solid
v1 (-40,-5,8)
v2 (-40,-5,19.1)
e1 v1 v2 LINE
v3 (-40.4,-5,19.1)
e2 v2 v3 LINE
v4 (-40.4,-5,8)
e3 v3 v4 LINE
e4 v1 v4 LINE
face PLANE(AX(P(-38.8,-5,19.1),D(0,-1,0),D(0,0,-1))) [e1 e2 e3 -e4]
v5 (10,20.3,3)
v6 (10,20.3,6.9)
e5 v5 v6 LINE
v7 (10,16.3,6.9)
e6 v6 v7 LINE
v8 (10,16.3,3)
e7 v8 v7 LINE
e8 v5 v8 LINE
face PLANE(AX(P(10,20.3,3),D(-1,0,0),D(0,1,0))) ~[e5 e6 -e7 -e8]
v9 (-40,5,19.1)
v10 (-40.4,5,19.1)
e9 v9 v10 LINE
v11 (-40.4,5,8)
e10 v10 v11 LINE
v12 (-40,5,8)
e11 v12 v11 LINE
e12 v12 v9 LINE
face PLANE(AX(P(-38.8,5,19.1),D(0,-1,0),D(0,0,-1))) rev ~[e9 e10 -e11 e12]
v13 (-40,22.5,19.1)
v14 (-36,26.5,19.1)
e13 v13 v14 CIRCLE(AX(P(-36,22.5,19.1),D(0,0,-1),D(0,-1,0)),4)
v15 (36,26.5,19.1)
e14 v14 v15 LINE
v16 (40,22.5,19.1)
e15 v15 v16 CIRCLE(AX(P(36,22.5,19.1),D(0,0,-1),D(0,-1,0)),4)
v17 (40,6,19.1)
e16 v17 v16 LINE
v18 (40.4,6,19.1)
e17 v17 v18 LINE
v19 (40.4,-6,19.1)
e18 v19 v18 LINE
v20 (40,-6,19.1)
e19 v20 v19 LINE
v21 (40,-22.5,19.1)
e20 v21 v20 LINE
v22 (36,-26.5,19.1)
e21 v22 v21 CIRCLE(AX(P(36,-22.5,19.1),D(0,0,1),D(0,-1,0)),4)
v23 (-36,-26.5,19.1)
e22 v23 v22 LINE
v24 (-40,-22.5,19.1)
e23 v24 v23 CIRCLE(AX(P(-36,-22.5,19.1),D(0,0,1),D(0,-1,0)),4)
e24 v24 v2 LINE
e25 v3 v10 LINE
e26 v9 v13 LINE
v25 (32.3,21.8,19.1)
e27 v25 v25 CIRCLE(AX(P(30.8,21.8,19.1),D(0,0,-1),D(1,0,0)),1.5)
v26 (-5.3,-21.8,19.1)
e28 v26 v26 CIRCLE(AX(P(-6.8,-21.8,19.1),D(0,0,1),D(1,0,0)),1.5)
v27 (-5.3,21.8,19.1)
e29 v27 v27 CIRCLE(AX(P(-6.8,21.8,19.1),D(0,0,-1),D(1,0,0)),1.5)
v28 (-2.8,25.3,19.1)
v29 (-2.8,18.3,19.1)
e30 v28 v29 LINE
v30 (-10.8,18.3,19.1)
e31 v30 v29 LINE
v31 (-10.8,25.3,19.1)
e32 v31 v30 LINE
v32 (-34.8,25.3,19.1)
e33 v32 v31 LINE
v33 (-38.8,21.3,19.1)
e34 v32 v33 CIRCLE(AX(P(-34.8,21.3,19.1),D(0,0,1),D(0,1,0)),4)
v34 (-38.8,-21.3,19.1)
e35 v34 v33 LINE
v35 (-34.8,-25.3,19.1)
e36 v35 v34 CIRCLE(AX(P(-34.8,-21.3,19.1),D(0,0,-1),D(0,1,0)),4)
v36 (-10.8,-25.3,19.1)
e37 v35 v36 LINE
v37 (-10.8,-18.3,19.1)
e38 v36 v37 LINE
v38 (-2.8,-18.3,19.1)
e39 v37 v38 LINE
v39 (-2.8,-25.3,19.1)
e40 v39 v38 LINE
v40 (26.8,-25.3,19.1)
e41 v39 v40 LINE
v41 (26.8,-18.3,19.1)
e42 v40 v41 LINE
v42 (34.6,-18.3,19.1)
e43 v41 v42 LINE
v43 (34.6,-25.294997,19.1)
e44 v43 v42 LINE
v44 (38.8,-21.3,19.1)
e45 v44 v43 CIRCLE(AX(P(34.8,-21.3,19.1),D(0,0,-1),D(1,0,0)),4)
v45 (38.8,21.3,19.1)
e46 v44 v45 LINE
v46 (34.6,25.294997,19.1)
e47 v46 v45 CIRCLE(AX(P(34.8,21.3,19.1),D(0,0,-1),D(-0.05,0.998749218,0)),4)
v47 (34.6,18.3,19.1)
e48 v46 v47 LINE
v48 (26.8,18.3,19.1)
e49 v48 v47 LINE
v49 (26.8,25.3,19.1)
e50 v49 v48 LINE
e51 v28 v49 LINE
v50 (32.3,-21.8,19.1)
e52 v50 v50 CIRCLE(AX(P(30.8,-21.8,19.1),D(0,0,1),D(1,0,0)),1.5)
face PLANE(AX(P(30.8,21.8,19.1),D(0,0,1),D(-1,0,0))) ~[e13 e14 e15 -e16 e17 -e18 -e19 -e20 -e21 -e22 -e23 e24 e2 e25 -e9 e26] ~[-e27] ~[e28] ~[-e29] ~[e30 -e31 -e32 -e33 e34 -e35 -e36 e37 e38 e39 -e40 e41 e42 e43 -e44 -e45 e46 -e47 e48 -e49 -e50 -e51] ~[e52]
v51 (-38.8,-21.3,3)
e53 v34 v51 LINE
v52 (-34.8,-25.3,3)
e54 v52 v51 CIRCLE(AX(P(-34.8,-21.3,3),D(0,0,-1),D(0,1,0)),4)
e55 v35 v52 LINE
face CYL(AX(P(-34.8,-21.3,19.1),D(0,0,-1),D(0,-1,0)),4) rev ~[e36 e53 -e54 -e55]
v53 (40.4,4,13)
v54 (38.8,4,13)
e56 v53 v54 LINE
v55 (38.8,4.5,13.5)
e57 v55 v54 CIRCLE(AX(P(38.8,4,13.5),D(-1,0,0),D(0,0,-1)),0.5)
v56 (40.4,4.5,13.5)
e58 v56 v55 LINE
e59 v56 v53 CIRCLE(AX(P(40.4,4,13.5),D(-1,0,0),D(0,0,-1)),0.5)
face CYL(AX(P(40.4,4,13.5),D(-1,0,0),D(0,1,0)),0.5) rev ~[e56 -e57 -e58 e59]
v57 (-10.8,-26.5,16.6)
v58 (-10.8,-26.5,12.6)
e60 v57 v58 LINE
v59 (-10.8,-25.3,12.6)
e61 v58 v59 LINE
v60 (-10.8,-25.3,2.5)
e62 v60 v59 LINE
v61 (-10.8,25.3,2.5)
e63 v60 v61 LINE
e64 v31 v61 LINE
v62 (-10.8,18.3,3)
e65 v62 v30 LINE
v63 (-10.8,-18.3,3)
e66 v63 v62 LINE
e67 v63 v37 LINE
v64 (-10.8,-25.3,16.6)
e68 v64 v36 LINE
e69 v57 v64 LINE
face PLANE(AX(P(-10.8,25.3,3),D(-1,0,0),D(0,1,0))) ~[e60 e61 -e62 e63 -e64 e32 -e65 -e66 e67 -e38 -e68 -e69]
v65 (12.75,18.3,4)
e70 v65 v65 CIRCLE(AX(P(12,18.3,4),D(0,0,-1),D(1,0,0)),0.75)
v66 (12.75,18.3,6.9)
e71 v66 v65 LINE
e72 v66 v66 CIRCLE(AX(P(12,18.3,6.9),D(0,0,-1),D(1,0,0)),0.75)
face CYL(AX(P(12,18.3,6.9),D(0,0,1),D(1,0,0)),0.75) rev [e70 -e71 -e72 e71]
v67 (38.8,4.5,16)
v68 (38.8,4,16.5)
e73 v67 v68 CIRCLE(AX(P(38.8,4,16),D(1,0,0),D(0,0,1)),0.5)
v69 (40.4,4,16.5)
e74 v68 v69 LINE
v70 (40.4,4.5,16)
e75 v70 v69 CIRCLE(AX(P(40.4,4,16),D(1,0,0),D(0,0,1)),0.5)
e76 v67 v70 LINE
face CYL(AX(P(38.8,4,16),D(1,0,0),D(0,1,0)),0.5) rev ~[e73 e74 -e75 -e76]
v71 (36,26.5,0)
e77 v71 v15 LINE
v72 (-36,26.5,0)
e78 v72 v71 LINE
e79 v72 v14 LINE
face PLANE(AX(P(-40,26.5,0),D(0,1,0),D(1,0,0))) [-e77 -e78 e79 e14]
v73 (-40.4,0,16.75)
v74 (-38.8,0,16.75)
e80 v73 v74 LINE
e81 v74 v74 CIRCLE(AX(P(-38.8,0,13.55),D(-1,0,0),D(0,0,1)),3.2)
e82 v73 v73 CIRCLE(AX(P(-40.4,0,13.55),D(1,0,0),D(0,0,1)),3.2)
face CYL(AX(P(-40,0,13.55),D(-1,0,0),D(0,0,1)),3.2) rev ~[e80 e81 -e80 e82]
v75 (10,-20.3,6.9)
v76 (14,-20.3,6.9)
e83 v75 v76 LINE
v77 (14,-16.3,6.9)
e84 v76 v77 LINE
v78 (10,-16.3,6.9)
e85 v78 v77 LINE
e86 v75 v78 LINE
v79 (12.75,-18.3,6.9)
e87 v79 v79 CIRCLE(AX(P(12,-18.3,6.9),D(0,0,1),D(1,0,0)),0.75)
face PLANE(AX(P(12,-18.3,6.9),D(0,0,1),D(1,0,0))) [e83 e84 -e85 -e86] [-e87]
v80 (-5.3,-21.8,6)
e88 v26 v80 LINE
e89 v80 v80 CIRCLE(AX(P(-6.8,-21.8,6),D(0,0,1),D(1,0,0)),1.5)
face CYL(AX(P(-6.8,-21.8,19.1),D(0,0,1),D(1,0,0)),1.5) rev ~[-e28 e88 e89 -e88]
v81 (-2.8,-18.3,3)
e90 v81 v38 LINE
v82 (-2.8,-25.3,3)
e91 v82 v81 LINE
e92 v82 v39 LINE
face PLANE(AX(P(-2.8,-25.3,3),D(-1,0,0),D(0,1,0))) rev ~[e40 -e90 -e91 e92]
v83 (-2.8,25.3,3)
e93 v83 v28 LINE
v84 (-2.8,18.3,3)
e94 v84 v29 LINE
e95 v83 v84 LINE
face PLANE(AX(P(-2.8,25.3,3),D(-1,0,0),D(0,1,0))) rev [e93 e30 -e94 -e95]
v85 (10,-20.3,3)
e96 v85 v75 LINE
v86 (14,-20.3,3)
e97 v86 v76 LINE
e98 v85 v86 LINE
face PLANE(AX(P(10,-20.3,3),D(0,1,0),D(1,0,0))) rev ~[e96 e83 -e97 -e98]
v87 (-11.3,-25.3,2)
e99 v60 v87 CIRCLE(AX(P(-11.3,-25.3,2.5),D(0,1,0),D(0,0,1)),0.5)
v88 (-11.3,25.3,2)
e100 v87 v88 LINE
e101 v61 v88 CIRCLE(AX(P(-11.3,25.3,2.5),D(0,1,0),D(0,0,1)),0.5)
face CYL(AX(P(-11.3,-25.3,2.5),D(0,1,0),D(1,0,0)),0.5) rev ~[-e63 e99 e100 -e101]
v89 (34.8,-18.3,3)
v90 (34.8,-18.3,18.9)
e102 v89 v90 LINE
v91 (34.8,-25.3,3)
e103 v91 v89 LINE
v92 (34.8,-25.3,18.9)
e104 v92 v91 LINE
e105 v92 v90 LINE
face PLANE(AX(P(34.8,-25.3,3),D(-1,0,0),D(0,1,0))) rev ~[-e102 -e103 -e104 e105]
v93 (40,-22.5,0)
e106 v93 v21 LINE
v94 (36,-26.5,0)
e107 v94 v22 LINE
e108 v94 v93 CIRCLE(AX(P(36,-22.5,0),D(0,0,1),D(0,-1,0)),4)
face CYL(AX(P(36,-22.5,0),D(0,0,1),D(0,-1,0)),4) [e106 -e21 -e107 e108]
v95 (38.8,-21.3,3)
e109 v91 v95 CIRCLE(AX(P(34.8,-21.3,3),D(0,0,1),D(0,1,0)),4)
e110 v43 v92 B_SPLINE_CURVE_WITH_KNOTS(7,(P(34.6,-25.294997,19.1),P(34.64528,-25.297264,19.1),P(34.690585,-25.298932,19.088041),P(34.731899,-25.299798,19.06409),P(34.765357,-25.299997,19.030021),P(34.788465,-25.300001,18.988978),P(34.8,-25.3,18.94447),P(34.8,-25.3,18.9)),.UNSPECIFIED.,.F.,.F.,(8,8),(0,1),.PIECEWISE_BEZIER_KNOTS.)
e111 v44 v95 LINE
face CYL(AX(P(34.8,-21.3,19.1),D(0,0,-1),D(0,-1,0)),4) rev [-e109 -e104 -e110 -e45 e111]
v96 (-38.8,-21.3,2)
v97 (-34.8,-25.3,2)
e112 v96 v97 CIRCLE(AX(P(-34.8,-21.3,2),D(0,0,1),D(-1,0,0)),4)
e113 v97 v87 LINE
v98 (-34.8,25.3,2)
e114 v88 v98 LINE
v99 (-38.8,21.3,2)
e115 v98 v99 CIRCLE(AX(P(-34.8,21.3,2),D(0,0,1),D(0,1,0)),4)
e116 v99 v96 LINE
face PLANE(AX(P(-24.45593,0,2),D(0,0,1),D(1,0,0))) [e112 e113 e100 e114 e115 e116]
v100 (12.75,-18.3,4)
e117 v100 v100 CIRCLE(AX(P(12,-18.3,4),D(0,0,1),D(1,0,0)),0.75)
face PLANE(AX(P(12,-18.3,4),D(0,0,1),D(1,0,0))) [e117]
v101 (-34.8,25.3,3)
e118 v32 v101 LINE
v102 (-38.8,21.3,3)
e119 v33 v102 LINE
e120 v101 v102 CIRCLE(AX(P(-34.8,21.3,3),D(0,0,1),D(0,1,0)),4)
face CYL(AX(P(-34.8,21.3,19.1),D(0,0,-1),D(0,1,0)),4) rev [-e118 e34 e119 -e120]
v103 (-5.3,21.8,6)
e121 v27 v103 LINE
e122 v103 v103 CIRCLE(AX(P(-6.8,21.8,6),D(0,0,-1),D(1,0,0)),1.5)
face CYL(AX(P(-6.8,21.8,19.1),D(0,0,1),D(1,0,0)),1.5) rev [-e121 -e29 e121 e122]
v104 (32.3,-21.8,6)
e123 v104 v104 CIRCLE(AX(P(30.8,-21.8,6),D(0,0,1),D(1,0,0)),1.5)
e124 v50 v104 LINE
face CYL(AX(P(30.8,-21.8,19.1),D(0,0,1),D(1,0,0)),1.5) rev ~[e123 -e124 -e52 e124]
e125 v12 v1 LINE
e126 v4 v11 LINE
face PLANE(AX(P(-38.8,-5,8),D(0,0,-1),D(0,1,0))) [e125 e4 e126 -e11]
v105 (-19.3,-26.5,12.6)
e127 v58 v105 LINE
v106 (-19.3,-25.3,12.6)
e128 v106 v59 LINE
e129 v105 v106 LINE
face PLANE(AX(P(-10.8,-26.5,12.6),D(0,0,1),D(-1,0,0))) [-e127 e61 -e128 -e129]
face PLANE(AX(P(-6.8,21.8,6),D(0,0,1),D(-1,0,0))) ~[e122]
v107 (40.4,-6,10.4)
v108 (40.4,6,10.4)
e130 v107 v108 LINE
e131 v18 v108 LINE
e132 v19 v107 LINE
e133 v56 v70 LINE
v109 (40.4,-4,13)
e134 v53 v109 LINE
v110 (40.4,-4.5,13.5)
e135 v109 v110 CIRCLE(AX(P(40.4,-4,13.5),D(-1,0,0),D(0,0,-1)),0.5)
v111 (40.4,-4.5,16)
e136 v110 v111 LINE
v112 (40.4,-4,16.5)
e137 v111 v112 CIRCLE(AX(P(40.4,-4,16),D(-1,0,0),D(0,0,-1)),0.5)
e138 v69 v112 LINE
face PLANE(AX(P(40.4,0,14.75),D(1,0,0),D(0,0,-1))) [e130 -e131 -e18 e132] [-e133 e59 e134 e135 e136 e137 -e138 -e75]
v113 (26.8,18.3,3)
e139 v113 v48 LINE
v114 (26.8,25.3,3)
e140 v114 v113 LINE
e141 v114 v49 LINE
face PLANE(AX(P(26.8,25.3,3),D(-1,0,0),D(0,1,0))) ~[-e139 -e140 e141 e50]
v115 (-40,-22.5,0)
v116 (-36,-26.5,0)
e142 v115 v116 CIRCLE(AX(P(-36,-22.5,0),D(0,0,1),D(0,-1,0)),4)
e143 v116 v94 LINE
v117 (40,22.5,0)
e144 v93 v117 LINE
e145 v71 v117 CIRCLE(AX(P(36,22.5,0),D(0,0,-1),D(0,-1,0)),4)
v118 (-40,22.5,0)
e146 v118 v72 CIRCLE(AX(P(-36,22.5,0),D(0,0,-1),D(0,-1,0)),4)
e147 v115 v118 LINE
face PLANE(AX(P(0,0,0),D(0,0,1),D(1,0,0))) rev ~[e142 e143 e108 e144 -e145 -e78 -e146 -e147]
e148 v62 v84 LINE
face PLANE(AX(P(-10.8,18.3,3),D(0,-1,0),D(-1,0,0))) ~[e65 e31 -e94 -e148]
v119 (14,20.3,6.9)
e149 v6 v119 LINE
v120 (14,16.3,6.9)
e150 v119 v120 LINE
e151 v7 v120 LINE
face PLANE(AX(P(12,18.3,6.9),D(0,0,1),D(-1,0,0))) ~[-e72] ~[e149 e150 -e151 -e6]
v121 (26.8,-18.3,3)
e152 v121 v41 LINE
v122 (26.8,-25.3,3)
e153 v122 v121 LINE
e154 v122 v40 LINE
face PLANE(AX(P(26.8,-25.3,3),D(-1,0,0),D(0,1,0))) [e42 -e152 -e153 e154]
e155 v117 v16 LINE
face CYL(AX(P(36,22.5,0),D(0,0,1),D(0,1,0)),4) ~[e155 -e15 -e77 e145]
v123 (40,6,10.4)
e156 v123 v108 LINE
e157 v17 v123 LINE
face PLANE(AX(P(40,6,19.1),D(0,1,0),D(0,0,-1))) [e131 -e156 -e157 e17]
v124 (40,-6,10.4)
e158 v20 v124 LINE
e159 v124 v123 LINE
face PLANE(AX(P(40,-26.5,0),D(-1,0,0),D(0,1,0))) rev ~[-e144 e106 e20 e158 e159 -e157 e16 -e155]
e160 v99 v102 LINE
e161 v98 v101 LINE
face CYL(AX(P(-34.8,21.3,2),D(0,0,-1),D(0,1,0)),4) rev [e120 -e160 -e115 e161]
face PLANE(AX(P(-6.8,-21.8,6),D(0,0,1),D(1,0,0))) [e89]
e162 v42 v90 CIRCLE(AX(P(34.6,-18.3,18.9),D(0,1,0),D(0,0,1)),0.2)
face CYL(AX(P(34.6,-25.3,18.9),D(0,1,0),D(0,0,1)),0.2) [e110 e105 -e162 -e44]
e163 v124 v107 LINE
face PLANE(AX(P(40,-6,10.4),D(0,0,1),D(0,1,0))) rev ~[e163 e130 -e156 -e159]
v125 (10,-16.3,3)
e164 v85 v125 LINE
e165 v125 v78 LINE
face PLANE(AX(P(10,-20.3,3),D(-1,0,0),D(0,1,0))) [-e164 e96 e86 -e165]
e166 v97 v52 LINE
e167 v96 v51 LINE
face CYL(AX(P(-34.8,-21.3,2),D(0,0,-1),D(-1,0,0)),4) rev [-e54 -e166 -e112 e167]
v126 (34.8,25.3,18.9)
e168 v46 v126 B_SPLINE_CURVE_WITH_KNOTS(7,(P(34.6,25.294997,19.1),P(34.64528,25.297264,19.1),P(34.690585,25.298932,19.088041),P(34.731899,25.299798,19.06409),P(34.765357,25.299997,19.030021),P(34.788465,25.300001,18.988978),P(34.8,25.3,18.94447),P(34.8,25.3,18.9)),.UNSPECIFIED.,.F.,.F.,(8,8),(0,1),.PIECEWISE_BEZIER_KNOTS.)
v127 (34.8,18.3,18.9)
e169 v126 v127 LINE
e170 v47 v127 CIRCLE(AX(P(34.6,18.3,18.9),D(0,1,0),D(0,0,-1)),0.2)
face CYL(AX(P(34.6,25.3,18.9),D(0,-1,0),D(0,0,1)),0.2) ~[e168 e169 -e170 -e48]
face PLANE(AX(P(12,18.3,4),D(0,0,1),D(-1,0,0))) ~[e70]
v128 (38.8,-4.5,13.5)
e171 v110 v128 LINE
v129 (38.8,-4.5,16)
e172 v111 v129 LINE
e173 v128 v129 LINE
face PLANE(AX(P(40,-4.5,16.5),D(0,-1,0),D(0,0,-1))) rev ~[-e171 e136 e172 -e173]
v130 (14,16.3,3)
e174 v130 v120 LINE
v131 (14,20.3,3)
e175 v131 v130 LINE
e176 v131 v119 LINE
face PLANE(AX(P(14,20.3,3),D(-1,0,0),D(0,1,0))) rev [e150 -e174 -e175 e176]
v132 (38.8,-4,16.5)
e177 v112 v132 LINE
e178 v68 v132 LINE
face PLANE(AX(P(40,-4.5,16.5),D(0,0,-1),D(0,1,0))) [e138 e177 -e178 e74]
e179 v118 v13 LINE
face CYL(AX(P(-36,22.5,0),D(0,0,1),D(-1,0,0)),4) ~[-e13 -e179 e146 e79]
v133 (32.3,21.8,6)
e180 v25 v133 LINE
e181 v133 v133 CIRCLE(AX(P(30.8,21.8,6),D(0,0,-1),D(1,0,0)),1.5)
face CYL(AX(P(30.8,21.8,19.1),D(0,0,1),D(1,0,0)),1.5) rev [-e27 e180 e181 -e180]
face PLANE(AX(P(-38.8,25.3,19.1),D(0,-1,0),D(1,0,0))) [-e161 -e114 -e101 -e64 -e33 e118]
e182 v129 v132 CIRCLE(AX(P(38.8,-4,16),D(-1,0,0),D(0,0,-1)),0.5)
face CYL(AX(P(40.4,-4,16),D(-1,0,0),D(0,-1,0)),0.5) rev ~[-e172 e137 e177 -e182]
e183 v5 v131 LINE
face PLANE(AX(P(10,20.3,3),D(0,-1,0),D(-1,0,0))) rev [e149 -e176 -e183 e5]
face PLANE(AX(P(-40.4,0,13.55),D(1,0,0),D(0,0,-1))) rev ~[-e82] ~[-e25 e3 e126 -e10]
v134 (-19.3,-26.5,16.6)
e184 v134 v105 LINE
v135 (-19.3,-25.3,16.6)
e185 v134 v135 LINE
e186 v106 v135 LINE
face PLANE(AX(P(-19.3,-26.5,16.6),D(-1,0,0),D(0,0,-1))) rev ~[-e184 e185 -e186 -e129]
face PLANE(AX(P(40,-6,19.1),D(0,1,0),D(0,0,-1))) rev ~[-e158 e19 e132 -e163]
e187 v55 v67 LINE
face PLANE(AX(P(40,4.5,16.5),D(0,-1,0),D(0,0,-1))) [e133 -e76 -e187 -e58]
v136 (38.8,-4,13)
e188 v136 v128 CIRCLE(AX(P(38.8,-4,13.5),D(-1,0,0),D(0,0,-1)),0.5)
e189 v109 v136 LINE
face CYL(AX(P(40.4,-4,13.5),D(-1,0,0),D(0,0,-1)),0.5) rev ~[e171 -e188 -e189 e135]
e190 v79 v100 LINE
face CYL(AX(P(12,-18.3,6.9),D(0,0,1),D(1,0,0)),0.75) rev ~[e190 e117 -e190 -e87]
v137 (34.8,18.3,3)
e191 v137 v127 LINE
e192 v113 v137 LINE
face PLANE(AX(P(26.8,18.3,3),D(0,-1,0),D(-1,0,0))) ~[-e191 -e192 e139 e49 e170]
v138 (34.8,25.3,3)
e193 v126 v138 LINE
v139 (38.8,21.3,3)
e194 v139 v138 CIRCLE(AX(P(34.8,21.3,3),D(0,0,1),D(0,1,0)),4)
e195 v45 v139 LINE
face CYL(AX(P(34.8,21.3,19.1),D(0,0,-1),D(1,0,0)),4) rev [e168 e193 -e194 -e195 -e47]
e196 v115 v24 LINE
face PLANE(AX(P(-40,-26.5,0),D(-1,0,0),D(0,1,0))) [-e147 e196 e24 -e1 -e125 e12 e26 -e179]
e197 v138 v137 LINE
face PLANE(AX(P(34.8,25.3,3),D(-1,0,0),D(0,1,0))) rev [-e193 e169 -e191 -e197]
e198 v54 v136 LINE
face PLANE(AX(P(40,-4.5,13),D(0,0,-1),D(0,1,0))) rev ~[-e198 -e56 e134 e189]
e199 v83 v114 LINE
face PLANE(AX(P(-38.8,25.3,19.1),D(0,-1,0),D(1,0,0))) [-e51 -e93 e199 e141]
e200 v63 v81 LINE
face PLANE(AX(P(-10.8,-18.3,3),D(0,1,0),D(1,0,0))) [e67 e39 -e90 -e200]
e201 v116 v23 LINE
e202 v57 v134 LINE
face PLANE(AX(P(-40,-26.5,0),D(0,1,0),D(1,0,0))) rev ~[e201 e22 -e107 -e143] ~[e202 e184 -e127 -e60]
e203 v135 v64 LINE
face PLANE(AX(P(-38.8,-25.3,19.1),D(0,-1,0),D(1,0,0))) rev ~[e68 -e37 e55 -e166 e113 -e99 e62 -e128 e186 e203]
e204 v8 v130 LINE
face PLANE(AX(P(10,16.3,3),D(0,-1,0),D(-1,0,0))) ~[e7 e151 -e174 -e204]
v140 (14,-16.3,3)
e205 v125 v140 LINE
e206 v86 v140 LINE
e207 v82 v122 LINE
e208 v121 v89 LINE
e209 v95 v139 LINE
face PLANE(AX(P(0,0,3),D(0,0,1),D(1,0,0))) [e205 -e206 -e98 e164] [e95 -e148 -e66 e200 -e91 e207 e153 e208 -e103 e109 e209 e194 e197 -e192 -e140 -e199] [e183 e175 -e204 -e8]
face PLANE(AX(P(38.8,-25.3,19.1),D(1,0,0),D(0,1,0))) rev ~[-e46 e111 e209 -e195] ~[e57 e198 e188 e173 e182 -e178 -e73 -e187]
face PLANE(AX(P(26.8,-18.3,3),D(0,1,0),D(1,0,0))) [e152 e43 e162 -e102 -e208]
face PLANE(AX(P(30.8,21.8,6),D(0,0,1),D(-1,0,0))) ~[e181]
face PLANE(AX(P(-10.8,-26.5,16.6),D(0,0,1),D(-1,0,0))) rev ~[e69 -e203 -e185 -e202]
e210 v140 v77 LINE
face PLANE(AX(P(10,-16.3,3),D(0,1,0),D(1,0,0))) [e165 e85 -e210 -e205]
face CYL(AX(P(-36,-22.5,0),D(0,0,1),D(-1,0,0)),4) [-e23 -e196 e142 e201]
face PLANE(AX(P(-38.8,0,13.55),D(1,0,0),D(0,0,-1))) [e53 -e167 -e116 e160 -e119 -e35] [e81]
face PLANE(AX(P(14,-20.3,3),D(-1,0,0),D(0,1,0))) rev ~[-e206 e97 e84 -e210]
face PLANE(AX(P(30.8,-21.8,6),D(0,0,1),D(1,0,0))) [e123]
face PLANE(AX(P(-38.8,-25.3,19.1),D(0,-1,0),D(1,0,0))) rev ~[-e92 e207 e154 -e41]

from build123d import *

# Parameters (mm, degrees)
ESQUISSE1_W                         = 80
ESQUISSE1_H                         = 53
BOSS_EXTRU_1_DEPTH                  = 19.1
ESQUISSE3_W                         = 77.6
ESQUISSE3_H                         = 50.6
ENL_V_MAT_EXTRU_1_DEPTH             = 16.1
CONG_1_R                            = 4
ESQUISSE9_W                         = 8
ESQUISSE9_H                         = 7
BOSS_EXTRU_2_DEPTH                  = 16.1
ESQUISSE11_R                        = 1.5
ENL_V_MAT_EXTRU_2_DEPTH             = 13.1
ESQUISSE14_W                        = 8
ESQUISSE14_H                        = 7
BOSS_EXTRU_3_DEPTH                  = 16.1
ESQUISSE15_R                        = 1.5
ENL_V_MAT_EXTRU_3_DEPTH             = 13.1
ESQUISSE45_W                        = 8.7
ESQUISSE45_H                        = 12
BOSS_EXTRU_8_DEPTH                  = 0.4
ENL_V_MAT_EXTRU_4_REACH             = 88.412
ESQUISSE18_W                        = 3.5
ESQUISSE18_H                        = 9
ENL_V_MAT_EXTRU_4_DIRECTION_2_DEPTH = 87.412151923
CONG_2_R                            = 0.5
ESQUISSE33_W                        = 4
ESQUISSE33_H                        = 4
BOSS_EXTRU_6_DEPTH                  = 3.9
ESQUISSE35_R                        = 0.75
ENL_V_MAT_EXTRU_6_DEPTH             = 2.9
ENL_V_START                         = -1
ENL_V_MAT_EXTRU_7_DEPTH             = 1
CONG_4_R                            = 0.5
ESQUISSE42_W                        = 11.1
ESQUISSE42_H                        = 10
BOSS_EXTRU_9_DEPTH                  = 1.6
ENL_V_MAT_EXTRU_9_REACH             = 88.783
ESQUISSE40_R                        = 3.2
ENL_V_MAT_EXTRU_9_DIRECTION_2_DEPTH = 87.782601943
CONG_5_R                            = 0.2
ENL_V_MAT_EXTRU_10_REACH            = 71.325
ESQUISSE53_W                        = 8.5
ESQUISSE53_H                        = 4


with BuildPart() as part:
    # Esquisse1 → Boss.-Extru.1 (new body)
    with BuildSketch(Plane.XY):
        Rectangle(ESQUISSE1_W, ESQUISSE1_H)
    extrude(amount=BOSS_EXTRU_1_DEPTH)

    # Esquisse3 → Enlèv. mat.-Extru.1 (cut)
    with BuildSketch(Plane.XY.offset(19.1)):
        Rectangle(ESQUISSE3_W, ESQUISSE3_H)
    extrude(amount=-ENL_V_MAT_EXTRU_1_DEPTH, mode=Mode.SUBTRACT)

    # Congé1
    cong_1_edges = [part.edges().sort_by_distance(p)[0] for p in [
        (38.8, 25.3, 11.05),
        (38.8, -25.3, 11.05),
        (-38.8, -25.3, 11.05),
        (-38.8, 25.3, 11.05),
        (40, -26.5, 9.55),
        (-40, -26.5, 9.55),
        (-40, 26.5, 9.55),
        (40, 26.5, 9.55),
    ]]
    fillet(cong_1_edges, radius=CONG_1_R)

    # Esquisse9 → Boss.-Extru.2 (add)
    with BuildSketch(Plane.XY.offset(3)):
        with Locations((-6.8, -21.8)):
            Rectangle(ESQUISSE9_W, ESQUISSE9_H)
    boss_extru_2 = extrude(amount=BOSS_EXTRU_2_DEPTH)

    # Esquisse11 → Enlèv. mat.-Extru.2 (cut)
    with BuildSketch(Plane.XY.offset(19.1)):
        with Locations((-6.8, -21.8)):
            Circle(ESQUISSE11_R)
    enl_v_mat_extru_2 = extrude(amount=-ENL_V_MAT_EXTRU_2_DEPTH, mode=Mode.SUBTRACT)

    # Symétrie2: Boss.-Extru.2, Enlèv. mat.-Extru.2 across plane
    add(boss_extru_2.mirror(Plane.ZX))
    add(enl_v_mat_extru_2.mirror(Plane.ZX), mode=Mode.SUBTRACT)

    # Esquisse14 → Boss.-Extru.3 (add)
    with BuildSketch(Plane.XY.offset(3)):
        with Locations((30.8, -21.8)):
            Rectangle(ESQUISSE14_W, ESQUISSE14_H)
    boss_extru_3 = extrude(amount=BOSS_EXTRU_3_DEPTH)

    # Esquisse15 → Enlèv. mat.-Extru.3 (cut)
    with BuildSketch(Plane.XY.offset(19.1)):
        with Locations((30.8, -21.8)):
            Circle(ESQUISSE15_R)
    enl_v_mat_extru_3 = extrude(amount=-ENL_V_MAT_EXTRU_3_DEPTH, mode=Mode.SUBTRACT)

    # Symétrie3: Boss.-Extru.3, Enlèv. mat.-Extru.3 across plane
    add(boss_extru_3.mirror(Plane.ZX))
    add(enl_v_mat_extru_3.mirror(Plane.ZX), mode=Mode.SUBTRACT)

    # Esquisse45 → Boss.-Extru.8 (add)
    with BuildSketch(Plane(origin=(40, 0, 0), x_dir=(0, 0, -1), z_dir=(1, 0, 0))):
        with Locations((-14.75, 0)):
            Rectangle(ESQUISSE45_W, ESQUISSE45_H)
    extrude(amount=BOSS_EXTRU_8_DEPTH)

    # Esquisse18 → Enlèv. mat.-Extru.4 (cut, up to next)
    with BuildSketch(Plane(origin=(40, 0, 0), x_dir=(0, 0, -1), z_dir=(1, 0, 0)), mode=Mode.PRIVATE) as enl_v_mat_extru_4_sk1:
        with Locations((-14.75, 0)):
            Rectangle(ESQUISSE18_W, ESQUISSE18_H)
    enl_v_mat_extru_4_tool1 = extrude(enl_v_mat_extru_4_sk1.sketch, amount=-ENL_V_MAT_EXTRU_4_REACH, mode=Mode.PRIVATE) & part.part
    add(enl_v_mat_extru_4_tool1.solids().sort_by_distance((40, 0, 14.75))[0], mode=Mode.SUBTRACT)

    # Esquisse18 → Enlèv. mat.-Extru.4 direction 2 (cut)
    with BuildSketch(Plane(origin=(40, 0, 0), x_dir=(0, 0, -1), z_dir=(1, 0, 0))):
        with Locations((-14.75, 0)):
            Rectangle(ESQUISSE18_W, ESQUISSE18_H)
    extrude(amount=ENL_V_MAT_EXTRU_4_DIRECTION_2_DEPTH, mode=Mode.SUBTRACT)

    # Congé2
    cong_2_edges = [part.edges().sort_by_distance(p)[0] for p in [
        (39.6, -4.5, 13),
        (39.6, 4.5, 13),
        (39.6, 4.5, 16.5),
        (39.6, -4.5, 16.5),
    ]]
    fillet(cong_2_edges, radius=CONG_2_R)

    # Esquisse33 → Boss.-Extru.6 (add)
    with BuildSketch(Plane.XY.offset(3)):
        with Locations((12, -18.3)):
            Rectangle(ESQUISSE33_W, ESQUISSE33_H)
    boss_extru_6 = extrude(amount=BOSS_EXTRU_6_DEPTH)

    # Esquisse35 → Enlèv. mat.-Extru.6 (cut)
    with BuildSketch(Plane.XY.offset(6.9)):
        with Locations((12, -18.3)):
            Circle(ESQUISSE35_R)
    enl_v_mat_extru_6 = extrude(amount=-ENL_V_MAT_EXTRU_6_DEPTH, mode=Mode.SUBTRACT)

    # Symétrie4: Boss.-Extru.6, Enlèv. mat.-Extru.6 across plane
    add(boss_extru_6.mirror(Plane.ZX))
    add(enl_v_mat_extru_6.mirror(Plane.ZX), mode=Mode.SUBTRACT)

    # Esquisse38 → Enlèv. mat.-Extru.7 (cut)
    with BuildSketch(Plane.XY.offset(3).offset(ENL_V_START)):
        with BuildLine():
            Line((-10.8, -25.3), (-10.8, 25.3))
            Line((-10.8, 25.3), (-34.8, 25.3))
            ThreePointArc((-34.8, 25.3), (-37.628427125, 24.128427125), (-38.8, 21.3))
            Line((-38.8, 21.3), (-38.8, -21.3))
            ThreePointArc((-38.8, -21.3), (-37.628427125, -24.128427125), (-34.8, -25.3))
            Line((-34.8, -25.3), (-10.8, -25.3))
        make_face()
    extrude(amount=ENL_V_MAT_EXTRU_7_DEPTH, mode=Mode.SUBTRACT)

    # Congé4
    cong_4_edges = [part.edges().sort_by_distance(p)[0] for p in [
        (-10.8, 0, 2),
    ]]
    fillet(cong_4_edges, radius=CONG_4_R)

    # Esquisse42 → Boss.-Extru.9 (add)
    with BuildSketch(Plane(origin=(-38.8, 0, 0), x_dir=(0, 0, -1), z_dir=(1, 0, 0))):
        with Locations((-13.55, 0)):
            Rectangle(ESQUISSE42_W, ESQUISSE42_H)
    extrude(amount=-BOSS_EXTRU_9_DEPTH)

    # Esquisse40 → Enlèv. mat.-Extru.9 (cut, up to next)
    with BuildSketch(Plane.ZY.offset(40), mode=Mode.PRIVATE) as enl_v_mat_extru_9_sk1:
        with Locations((13.55, 0)):
            Circle(ESQUISSE40_R)
    enl_v_mat_extru_9_tool1 = extrude(enl_v_mat_extru_9_sk1.sketch, amount=-ENL_V_MAT_EXTRU_9_REACH, mode=Mode.PRIVATE) & part.part
    add(enl_v_mat_extru_9_tool1.solids().sort_by_distance((-40, 0, 13.55))[0], mode=Mode.SUBTRACT)

    # Esquisse40 → Enlèv. mat.-Extru.9 direction 2 (cut)
    with BuildSketch(Plane.ZY.offset(40)):
        with Locations((13.55, 0)):
            Circle(ESQUISSE40_R)
    extrude(amount=ENL_V_MAT_EXTRU_9_DIRECTION_2_DEPTH, mode=Mode.SUBTRACT)

    # Congé5
    cong_5_edges = [part.edges().sort_by_distance(p)[0] for p in [
        (34.8, -21.8, 19.1),
        (34.8, 21.8, 19.1),
    ]]
    fillet(cong_5_edges, radius=CONG_5_R)

    # Esquisse53 → Enlèv. mat.-Extru.10 (cut, up to next)
    with BuildSketch(Plane(origin=(0, -26.5, 0), x_dir=(-1, 0, 0), z_dir=(0, -1, 0)), mode=Mode.PRIVATE) as enl_v_mat_extru_10_sk1:
        with Locations((15.05, -14.6)):
            Rectangle(ESQUISSE53_W, ESQUISSE53_H)
    enl_v_mat_extru_10_tool1 = extrude(enl_v_mat_extru_10_sk1.sketch, amount=-ENL_V_MAT_EXTRU_10_REACH, mode=Mode.PRIVATE) & part.part
    add(enl_v_mat_extru_10_tool1.solids().sort_by_distance((-15.05, -26.5, 14.6))[0], mode=Mode.SUBTRACT)


solid = part.part
